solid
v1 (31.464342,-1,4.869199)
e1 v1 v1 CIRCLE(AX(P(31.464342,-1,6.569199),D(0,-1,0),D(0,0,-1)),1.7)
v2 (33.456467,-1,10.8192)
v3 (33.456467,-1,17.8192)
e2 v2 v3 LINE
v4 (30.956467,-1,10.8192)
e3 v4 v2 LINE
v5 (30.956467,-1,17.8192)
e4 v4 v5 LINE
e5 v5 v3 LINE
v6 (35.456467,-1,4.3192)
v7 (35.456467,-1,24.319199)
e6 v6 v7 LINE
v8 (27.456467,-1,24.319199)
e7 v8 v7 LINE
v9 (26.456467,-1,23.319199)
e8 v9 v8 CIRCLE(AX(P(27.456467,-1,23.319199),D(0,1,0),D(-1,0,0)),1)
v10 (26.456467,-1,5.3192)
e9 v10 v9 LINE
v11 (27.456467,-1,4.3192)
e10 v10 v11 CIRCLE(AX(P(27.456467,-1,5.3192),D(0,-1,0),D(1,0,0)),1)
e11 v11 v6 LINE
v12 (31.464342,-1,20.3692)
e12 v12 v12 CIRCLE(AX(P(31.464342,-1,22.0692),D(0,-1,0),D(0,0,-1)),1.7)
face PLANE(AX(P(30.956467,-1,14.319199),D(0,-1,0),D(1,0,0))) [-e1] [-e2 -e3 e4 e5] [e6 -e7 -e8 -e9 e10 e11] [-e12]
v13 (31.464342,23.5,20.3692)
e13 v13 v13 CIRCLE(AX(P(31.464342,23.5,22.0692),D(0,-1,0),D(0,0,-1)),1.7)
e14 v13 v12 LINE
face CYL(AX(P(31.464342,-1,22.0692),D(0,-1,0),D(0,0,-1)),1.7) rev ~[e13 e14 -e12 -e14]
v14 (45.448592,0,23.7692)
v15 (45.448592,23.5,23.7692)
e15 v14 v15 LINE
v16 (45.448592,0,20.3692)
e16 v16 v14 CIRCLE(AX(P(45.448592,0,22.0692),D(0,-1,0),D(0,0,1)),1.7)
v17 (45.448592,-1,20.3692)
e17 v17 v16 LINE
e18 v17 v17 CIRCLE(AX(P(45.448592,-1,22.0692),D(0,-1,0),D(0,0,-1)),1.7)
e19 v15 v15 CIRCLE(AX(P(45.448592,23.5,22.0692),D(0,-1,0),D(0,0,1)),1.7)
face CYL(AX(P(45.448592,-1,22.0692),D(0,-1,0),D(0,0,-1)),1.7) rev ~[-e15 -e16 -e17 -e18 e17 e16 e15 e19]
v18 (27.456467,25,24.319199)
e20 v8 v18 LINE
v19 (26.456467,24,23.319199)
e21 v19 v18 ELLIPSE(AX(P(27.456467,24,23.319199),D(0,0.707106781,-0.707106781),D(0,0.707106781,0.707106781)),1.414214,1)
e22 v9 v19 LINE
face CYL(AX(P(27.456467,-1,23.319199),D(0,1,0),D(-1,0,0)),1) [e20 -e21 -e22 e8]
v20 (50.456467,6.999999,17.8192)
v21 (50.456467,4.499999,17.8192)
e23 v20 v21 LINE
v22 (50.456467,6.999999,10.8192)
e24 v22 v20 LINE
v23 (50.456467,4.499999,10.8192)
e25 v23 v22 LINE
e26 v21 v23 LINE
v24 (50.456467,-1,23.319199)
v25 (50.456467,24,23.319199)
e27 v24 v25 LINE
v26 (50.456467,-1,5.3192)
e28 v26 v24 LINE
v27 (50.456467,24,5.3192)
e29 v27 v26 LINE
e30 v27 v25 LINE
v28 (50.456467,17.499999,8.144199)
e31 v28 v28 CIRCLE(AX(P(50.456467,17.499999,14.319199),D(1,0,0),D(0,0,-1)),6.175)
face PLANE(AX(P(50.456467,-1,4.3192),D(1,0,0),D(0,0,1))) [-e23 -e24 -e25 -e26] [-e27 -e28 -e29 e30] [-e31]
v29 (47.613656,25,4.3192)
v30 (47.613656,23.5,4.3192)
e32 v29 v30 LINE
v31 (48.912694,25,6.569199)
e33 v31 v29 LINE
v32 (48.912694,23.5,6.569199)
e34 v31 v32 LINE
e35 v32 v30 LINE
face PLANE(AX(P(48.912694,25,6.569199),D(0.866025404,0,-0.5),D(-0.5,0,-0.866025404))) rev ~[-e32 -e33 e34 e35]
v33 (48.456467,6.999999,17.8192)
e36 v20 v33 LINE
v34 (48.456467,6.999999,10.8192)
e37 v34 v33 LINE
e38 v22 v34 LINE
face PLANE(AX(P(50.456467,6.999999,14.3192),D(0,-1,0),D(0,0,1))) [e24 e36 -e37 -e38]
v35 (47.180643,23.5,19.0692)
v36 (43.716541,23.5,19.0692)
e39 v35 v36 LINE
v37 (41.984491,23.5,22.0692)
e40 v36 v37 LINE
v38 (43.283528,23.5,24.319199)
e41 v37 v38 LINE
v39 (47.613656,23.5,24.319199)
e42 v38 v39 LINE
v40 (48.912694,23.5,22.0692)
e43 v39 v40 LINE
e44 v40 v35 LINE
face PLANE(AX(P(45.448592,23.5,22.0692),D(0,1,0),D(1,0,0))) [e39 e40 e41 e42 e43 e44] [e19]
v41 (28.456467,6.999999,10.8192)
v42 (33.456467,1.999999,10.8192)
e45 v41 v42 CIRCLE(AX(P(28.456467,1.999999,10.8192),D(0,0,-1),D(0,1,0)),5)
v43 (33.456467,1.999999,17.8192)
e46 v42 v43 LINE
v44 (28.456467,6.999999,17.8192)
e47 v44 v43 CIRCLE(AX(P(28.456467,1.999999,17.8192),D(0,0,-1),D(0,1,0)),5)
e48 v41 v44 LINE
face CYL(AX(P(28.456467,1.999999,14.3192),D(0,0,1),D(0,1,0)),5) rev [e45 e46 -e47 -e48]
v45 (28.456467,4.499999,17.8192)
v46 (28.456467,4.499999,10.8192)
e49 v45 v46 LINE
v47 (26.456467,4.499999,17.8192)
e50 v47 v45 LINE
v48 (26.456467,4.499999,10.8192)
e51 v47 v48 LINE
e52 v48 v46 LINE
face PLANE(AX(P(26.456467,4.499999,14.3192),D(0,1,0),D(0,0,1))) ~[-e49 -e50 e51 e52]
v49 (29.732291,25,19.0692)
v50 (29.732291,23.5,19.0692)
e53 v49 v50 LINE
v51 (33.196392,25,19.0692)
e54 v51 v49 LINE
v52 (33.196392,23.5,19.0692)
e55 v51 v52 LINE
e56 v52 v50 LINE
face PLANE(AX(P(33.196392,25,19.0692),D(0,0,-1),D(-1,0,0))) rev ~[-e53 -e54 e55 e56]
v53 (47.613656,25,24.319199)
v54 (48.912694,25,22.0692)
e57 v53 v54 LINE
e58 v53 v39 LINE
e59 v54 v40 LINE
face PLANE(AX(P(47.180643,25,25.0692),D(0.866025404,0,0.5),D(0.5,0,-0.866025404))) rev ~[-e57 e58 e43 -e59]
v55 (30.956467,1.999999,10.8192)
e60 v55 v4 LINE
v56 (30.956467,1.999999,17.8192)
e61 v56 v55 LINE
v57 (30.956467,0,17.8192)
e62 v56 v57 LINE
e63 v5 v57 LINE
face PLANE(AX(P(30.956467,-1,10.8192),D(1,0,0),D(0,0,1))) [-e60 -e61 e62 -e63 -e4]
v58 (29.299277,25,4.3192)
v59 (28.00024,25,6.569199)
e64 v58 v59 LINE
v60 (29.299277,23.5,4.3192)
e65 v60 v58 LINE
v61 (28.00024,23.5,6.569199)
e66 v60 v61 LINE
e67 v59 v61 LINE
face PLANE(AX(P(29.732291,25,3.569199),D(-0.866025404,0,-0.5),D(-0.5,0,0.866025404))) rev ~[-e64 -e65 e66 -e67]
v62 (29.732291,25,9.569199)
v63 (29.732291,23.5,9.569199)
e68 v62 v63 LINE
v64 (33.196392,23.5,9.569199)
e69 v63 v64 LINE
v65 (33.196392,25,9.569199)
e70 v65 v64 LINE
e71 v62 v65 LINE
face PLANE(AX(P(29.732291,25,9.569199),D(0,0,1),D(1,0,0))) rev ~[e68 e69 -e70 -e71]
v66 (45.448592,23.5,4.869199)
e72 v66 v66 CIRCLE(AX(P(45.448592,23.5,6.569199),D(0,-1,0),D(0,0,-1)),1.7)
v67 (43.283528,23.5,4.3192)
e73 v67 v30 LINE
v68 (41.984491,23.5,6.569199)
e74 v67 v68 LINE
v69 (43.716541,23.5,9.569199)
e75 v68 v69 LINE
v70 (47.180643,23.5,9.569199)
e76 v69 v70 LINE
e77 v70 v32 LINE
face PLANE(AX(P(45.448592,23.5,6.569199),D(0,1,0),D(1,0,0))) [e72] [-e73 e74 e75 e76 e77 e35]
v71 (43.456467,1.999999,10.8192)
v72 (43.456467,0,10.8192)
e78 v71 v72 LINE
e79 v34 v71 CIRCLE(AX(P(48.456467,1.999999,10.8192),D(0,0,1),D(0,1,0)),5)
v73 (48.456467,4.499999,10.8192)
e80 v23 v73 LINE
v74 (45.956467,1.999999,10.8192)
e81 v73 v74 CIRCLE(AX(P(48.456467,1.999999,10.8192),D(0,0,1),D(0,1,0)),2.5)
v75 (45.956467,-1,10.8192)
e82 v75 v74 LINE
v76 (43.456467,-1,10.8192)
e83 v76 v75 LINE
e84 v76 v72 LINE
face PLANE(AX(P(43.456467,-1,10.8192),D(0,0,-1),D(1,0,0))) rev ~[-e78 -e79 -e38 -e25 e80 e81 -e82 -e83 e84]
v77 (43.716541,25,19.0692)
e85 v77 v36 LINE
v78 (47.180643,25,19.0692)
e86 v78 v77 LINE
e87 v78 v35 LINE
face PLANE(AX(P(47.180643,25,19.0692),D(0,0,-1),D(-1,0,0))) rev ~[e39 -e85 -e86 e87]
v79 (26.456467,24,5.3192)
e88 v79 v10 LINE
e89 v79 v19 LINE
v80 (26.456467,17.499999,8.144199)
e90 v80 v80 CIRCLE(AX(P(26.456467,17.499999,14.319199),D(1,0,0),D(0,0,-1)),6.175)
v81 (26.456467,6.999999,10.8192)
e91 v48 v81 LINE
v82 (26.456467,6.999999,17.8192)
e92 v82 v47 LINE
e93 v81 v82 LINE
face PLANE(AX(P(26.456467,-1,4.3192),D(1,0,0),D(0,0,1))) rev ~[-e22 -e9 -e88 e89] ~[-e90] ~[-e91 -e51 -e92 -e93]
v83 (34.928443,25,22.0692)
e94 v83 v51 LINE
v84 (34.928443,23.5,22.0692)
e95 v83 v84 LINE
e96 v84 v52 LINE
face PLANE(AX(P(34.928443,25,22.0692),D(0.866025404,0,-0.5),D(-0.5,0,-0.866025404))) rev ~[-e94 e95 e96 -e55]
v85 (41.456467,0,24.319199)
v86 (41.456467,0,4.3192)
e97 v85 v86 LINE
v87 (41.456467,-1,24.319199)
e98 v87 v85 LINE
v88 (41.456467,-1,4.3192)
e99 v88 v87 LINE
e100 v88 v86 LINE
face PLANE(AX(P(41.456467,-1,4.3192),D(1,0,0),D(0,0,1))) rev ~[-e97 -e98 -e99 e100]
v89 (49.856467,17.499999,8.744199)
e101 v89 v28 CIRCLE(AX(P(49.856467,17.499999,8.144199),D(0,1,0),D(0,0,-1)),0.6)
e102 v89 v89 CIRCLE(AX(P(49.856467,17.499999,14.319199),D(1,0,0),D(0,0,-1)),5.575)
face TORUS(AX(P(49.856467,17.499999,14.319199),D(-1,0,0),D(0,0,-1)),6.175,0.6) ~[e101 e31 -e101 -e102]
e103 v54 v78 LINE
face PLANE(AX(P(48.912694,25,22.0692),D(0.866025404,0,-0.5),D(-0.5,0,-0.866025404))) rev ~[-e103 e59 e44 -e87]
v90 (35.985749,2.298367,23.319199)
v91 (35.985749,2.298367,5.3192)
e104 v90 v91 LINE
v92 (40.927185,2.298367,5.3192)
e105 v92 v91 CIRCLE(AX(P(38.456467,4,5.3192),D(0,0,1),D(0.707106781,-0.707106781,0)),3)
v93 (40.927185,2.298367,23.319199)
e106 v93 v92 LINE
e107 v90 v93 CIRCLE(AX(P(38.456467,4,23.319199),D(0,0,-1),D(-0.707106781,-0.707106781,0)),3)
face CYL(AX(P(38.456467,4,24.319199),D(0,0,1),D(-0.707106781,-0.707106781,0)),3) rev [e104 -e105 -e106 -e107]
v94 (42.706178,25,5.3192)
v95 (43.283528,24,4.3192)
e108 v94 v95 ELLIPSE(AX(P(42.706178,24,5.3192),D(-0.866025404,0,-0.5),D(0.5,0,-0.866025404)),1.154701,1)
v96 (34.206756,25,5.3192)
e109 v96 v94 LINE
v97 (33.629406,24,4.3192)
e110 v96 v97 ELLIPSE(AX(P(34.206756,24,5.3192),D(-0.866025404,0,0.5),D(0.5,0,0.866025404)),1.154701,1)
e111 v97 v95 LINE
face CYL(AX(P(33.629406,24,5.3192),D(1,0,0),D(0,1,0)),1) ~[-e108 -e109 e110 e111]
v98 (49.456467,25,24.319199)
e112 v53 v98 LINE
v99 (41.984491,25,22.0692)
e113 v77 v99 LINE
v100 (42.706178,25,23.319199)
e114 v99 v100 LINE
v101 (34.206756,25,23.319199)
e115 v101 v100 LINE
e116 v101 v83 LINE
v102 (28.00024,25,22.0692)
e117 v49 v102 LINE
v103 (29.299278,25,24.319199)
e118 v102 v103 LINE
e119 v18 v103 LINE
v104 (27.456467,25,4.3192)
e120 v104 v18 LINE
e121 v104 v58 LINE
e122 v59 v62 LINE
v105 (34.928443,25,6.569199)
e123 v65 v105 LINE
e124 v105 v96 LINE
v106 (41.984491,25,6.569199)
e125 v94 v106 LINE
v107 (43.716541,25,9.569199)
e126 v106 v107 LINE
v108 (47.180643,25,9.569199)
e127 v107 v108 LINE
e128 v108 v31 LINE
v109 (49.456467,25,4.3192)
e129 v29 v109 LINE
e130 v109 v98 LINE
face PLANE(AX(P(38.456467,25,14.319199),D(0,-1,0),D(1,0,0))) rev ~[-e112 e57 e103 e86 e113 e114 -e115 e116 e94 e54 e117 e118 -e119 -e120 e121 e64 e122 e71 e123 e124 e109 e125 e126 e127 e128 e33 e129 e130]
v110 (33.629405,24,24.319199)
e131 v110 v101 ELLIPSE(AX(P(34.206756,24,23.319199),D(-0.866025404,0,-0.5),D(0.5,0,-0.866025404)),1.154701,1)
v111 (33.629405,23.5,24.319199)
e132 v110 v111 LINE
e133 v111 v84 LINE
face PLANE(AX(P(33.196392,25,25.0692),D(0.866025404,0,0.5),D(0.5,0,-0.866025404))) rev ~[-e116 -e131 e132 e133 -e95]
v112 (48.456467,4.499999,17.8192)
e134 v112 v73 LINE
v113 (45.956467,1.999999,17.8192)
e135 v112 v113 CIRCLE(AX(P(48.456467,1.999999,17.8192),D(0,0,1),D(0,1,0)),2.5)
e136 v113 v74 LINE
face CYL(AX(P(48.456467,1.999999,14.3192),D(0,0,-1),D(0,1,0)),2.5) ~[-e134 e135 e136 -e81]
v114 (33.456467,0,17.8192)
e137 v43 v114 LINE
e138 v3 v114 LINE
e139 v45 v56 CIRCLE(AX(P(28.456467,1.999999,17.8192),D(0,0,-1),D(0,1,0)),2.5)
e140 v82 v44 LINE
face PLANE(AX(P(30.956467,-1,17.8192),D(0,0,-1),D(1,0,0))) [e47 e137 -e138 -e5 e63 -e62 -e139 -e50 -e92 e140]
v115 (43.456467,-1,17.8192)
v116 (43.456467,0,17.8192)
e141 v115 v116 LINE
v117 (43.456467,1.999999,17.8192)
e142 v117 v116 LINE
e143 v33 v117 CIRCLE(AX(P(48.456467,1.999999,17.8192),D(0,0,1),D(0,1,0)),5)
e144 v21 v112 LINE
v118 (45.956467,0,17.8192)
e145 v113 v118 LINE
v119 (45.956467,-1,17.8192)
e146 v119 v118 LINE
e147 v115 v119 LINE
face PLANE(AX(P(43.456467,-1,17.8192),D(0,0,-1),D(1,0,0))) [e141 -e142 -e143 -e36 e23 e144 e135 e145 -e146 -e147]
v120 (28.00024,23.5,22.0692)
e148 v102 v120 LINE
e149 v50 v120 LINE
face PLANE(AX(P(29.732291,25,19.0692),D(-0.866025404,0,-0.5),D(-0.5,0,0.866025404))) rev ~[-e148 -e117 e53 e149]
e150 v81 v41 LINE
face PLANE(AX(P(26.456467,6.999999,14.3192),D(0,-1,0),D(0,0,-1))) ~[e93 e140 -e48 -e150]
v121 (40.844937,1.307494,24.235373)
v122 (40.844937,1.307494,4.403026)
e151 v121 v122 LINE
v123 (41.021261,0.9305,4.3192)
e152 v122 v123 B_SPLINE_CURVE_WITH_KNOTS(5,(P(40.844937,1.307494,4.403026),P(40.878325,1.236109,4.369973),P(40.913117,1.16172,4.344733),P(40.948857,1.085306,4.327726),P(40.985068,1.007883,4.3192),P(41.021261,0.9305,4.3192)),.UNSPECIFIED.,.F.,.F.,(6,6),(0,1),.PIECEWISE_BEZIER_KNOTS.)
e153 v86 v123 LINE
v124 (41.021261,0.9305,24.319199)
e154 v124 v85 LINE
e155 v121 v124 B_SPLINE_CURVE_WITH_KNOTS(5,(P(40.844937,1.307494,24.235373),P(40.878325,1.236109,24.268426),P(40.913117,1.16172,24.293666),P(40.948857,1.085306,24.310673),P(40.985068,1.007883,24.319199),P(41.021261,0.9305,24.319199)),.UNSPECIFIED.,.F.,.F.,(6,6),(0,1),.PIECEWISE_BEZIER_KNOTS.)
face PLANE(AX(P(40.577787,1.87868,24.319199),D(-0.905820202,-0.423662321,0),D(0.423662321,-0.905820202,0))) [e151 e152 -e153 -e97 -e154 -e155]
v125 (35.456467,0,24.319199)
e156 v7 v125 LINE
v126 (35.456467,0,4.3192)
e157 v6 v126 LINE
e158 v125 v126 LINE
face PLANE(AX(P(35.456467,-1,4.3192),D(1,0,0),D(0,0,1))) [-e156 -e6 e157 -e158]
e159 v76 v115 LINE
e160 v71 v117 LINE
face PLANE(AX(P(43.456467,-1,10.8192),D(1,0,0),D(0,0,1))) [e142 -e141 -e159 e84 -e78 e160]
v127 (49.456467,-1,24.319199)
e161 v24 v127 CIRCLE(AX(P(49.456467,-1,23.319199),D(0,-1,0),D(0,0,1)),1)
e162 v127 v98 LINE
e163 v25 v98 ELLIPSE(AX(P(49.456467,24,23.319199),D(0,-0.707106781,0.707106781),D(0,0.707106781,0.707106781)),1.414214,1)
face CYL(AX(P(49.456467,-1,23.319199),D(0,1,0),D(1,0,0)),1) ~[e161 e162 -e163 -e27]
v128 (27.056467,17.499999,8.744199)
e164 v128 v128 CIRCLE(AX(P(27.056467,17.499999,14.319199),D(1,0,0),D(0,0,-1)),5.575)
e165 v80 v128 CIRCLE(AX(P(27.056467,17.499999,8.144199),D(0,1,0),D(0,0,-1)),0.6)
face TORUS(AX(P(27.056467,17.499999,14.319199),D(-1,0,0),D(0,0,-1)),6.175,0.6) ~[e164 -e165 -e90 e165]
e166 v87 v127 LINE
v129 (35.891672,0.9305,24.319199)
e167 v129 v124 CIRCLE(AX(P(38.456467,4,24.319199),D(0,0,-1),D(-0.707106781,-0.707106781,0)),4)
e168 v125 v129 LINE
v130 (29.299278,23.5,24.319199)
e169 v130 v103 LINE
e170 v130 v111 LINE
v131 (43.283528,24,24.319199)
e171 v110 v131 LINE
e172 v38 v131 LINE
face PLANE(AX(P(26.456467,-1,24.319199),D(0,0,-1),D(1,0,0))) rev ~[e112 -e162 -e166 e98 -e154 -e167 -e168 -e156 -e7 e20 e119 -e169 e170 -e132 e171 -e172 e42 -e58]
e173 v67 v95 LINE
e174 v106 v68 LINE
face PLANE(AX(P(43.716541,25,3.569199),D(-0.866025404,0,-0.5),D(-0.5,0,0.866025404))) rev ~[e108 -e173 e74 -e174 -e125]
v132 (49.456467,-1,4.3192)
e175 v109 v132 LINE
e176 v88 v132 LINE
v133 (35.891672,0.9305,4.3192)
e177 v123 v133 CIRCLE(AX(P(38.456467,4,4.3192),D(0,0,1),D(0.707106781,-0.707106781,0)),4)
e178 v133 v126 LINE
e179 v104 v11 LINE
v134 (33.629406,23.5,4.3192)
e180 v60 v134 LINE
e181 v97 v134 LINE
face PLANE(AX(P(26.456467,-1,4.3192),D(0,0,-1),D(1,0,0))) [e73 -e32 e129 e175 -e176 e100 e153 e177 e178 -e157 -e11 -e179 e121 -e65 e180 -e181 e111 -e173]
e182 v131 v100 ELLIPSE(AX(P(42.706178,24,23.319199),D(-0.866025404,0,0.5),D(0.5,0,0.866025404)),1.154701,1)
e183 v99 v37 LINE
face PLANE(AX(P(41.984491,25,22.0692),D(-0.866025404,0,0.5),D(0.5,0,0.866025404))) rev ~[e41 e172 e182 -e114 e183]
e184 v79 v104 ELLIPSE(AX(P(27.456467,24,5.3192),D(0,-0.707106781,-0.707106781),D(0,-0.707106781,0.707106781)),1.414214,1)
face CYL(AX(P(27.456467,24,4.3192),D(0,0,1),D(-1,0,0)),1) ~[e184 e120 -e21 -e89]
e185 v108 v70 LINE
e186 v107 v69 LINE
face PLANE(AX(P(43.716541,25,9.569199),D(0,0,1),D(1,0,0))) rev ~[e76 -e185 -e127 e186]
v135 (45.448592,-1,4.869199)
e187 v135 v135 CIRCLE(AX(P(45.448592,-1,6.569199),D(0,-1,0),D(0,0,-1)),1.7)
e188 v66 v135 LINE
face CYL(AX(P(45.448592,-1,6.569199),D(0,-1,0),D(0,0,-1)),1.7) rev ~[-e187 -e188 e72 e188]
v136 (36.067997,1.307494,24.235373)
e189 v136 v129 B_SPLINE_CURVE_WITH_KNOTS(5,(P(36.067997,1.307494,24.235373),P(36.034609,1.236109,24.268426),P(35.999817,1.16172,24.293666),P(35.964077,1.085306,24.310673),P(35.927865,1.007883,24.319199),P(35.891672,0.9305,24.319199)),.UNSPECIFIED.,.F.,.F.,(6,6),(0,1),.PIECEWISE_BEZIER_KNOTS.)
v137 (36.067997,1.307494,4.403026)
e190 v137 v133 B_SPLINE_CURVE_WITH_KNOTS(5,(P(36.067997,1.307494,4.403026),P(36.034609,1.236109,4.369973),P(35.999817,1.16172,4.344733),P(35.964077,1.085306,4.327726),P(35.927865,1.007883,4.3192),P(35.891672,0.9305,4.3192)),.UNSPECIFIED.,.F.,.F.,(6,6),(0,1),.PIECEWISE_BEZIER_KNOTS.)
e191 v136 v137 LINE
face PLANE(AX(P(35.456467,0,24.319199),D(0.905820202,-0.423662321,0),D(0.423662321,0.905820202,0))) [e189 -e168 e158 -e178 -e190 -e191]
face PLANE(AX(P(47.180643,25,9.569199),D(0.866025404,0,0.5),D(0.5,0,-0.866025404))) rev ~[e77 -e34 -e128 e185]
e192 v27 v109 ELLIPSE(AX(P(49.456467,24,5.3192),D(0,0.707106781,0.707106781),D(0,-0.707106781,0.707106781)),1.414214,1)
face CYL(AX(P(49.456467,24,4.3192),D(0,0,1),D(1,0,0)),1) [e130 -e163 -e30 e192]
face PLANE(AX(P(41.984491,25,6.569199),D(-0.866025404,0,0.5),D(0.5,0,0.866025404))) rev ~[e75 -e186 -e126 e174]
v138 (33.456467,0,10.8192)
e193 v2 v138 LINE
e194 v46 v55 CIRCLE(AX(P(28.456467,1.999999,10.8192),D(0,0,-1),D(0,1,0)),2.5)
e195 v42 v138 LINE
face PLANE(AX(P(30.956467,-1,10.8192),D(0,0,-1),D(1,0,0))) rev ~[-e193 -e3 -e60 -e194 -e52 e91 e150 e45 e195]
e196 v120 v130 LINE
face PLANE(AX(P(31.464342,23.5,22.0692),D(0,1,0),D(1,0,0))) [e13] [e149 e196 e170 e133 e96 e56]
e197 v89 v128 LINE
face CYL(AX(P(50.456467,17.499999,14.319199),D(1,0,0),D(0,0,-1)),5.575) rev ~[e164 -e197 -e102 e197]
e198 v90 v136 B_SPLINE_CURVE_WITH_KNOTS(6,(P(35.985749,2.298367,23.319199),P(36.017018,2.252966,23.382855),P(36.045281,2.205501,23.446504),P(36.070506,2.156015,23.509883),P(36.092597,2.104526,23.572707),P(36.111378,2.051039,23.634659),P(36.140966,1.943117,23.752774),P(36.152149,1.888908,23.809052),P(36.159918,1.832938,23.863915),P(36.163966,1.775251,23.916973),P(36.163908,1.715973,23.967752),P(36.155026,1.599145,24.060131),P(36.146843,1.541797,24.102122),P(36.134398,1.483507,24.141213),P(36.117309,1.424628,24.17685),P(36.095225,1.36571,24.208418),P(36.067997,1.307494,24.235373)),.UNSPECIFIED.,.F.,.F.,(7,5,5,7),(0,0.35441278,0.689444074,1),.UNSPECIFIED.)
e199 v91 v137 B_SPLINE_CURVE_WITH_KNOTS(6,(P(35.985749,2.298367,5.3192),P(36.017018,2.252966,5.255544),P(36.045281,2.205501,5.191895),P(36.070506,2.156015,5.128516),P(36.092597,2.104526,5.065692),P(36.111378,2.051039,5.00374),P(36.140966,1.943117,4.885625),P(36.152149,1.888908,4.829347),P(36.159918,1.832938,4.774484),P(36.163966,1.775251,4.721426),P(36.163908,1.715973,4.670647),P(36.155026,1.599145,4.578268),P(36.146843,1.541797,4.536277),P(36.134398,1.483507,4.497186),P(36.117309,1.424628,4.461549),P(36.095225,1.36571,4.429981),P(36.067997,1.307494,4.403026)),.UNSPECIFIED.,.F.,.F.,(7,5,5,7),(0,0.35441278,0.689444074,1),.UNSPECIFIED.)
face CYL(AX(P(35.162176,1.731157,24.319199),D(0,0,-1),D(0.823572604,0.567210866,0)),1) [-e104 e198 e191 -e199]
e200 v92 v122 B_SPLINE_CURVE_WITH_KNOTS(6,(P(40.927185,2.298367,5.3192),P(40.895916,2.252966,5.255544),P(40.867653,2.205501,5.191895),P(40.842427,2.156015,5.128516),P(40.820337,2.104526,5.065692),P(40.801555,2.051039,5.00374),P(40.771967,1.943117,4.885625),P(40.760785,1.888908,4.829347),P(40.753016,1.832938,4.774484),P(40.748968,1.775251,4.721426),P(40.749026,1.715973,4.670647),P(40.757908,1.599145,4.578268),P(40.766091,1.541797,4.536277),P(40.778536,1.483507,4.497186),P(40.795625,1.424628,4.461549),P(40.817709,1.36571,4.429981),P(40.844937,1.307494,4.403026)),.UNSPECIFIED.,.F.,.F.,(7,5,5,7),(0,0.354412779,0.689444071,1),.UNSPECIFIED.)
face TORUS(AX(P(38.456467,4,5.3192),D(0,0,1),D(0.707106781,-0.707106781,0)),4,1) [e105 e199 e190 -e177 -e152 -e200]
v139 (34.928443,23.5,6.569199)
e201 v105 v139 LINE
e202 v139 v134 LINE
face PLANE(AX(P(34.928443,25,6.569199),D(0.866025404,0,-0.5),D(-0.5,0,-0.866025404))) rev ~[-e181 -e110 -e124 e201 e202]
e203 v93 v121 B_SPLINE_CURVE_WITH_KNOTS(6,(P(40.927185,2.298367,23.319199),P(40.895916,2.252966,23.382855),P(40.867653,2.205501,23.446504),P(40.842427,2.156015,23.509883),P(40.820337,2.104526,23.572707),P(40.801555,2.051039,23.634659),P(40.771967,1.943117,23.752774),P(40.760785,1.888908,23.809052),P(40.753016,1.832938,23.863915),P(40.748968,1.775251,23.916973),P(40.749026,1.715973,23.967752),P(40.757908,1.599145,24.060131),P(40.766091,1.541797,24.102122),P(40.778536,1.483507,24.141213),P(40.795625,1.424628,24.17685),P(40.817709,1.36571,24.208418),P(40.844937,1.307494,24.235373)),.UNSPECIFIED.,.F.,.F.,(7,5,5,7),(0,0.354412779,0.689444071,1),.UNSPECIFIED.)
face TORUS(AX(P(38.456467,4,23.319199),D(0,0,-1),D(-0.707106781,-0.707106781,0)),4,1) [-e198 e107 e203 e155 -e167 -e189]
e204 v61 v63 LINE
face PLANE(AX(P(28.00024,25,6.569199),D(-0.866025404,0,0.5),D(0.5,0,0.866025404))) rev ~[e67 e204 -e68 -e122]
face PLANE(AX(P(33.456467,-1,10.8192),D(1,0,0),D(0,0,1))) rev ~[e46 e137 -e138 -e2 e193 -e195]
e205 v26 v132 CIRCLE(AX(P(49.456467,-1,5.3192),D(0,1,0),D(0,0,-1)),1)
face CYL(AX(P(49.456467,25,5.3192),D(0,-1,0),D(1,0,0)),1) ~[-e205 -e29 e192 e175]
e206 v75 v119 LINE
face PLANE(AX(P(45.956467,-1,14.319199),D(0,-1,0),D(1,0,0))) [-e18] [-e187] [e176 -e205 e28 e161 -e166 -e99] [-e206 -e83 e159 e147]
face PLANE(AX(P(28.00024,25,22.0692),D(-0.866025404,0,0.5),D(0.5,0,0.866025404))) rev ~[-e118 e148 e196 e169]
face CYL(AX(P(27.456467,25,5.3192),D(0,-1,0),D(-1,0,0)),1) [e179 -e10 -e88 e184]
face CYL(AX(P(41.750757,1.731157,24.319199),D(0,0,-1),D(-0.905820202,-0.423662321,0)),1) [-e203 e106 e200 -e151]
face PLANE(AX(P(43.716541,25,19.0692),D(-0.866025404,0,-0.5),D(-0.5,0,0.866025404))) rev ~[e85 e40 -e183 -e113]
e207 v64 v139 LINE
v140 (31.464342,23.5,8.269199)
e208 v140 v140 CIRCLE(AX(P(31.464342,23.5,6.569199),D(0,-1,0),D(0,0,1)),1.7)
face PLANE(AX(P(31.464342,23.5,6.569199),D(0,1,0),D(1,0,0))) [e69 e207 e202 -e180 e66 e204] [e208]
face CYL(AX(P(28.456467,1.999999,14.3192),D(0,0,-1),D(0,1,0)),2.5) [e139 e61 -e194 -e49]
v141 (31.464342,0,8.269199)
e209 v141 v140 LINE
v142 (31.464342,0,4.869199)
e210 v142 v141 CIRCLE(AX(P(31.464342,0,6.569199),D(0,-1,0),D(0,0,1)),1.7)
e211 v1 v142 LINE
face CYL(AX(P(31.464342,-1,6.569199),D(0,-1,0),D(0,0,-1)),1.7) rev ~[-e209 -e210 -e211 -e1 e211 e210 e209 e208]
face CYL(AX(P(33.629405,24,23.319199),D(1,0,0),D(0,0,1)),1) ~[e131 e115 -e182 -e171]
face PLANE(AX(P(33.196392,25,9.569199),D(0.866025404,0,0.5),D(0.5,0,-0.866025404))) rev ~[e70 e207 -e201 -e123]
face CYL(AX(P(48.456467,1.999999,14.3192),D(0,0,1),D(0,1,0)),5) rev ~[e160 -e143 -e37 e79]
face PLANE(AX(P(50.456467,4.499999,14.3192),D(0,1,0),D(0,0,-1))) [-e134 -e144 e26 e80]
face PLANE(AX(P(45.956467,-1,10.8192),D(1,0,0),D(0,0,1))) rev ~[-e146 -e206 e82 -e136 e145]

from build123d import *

# Parameters (mm, degrees)
CROQUIS1_W              = 24
CROQUIS1_H              = 19.999999388
SALIENTE_EXTRUIR1_DEPTH = 25
CORTAR_EXTRUIR1_DEPTH   = 60.75663166
CROQUIS4_R              = 1.7
CORTAR_EXTRUIR3_DEPTH   = 62.337415173
CROQUIS8_W              = 7
CROQUIS8_H              = 2.5
CORTAR_EXTRUIR7_DEPTH   = 1.5
CROQUIS3_R              = 5.575
CORTAR_EXTRUIR8_DEPTH   = 40
SALIENTE_EXTRUIR2_START = 1
CROQUIS13_W             = 9
CROQUIS13_H             = 19.999999388
CROQUIS13_R             = 1.7
CROQUIS13_W_2           = 2.5
CROQUIS13_H_2           = 7
SALIENTE_EXTRUIR2_DEPTH = 1
SALIENTE_EXTRUIR3_START = 1
CROQUIS14_W             = 9
CROQUIS14_H             = 19.999999388
CROQUIS14_R             = 1.7
CROQUIS14_W_2           = 2.5
CROQUIS14_H_2           = 7
SALIENTE_EXTRUIR3_DEPTH = 1
REDONDEO1_R             = 1
REDONDEO3_R             = 0.6


with BuildPart() as part:
    # Croquis1 → Saliente-Extruir1 (new body)
    with BuildSketch(Plane.XZ):
        with Locations((38.456466898, 14.319199476)):
            Rectangle(CROQUIS1_W, CROQUIS1_H)
    extrude(amount=-SALIENTE_EXTRUIR1_DEPTH)

    # Croquis2 → Cortar-Extruir1 (cut, through all)
    with BuildSketch(Plane.XY.offset(24.31919917)):
        with BuildLine():
            Line((35.456466898, 0), (36.335146555, 1.878679656))
            ThreePointArc((36.335146555, 1.878679656), (38.456466898, 7), (40.577787242, 1.878679656))
            Line((40.577787242, 1.878679656), (41.456466898, 0))
            Line((41.456466898, 0), (35.456466898, 0))
        make_face()
    extrude(amount=-CORTAR_EXTRUIR1_DEPTH, mode=Mode.SUBTRACT)

    # Croquis4 → Cortar-Extruir3 (cut, through all)
    with BuildSketch(Plane.XZ):
        with Locations(Location((31.464341614, 22.069199782, 0), (0, 0, 270))):
            Circle(CROQUIS4_R)
        with Locations(Location((45.448592182, 22.069199782, 0), (0, 0, 90))):
            Circle(CROQUIS4_R)
        with Locations(Location((45.448592182, 6.569198558, 0), (0, 0, 270))):
            Circle(CROQUIS4_R)
        with Locations(Location((31.464341614, 6.569198558, 0), (0, 0, 90))):
            Circle(CROQUIS4_R)
    extrude(amount=-CORTAR_EXTRUIR3_DEPTH, mode=Mode.SUBTRACT)

    # Cortar-Barrer2: sweep along a path in Croquis9
    with BuildLine(Plane(origin=(0, 0, 10.819199782), x_dir=(-1, 0, 0), z_dir=(0, 0, -1))) as cortar_barrer2_path:
        Line((-50.456466898, 6.999998763), (-48.456466898, 6.999998763))
        ThreePointArc((-48.456466898, 6.999998763), (-44.920932992, 5.535532669), (-43.456466898, 1.999998763))
        Line((-43.456466898, 1.999998763), (-43.456466898, -1.237e-06))
    # Croquis8 → Cortar-Barrer2 (sweep, cut)
    with BuildSketch(Plane(origin=(50.456466898, 0, 0), x_dir=(0, 0, -1), z_dir=(1, 0, 0))):
        with Locations((-14.319199782, 5.749998763)):
            Rectangle(CROQUIS8_W, CROQUIS8_H)
    cortar_barrer2 = sweep(path=cortar_barrer2_path.line, mode=Mode.SUBTRACT)

    # Simetría1: Cortar-Barrer2 across plane
    add(cortar_barrer2.mirror(Plane(origin=(38.456466898, 0, 0), x_dir=(0, 0, 1), z_dir=(1, 0, 0))), mode=Mode.SUBTRACT)

    # Croquis11 → Cortar-Extruir7 (cut)
    with BuildSketch(Plane(origin=(0, 25, 0), x_dir=(1, 0, 0), z_dir=(0, 1, 0))):
        Polygon((47.18064299, -19.069199782), (43.716541375, -19.069199782), (41.984490567, -22.069199782), (43.716541375, -25.069199782), (47.18064299, -25.069199782), (48.912693797, -22.069199782), align=None)
        Polygon((34.928443229, -22.069199782), (33.196392422, -19.069199782), (29.732290807, -19.069199782), (28.000239999, -22.069199782), (29.732290807, -25.069199782), (33.196392422, -25.069199782), align=None)
        Polygon((34.928443229, -6.569198558), (33.196392422, -3.569198558), (29.732290807, -3.569198558), (28.000239999, -6.569198558), (29.732290807, -9.569198558), (33.196392422, -9.569198558), align=None)
        Polygon((47.18064299, -9.569198558), (48.912693797, -6.569198558), (47.18064299, -3.569198558), (43.716541375, -3.569198558), (41.984490567, -6.569198558), (43.716541375, -9.569198558), align=None)
    extrude(amount=-CORTAR_EXTRUIR7_DEPTH, mode=Mode.SUBTRACT)

    # Croquis3 → Cortar-Extruir8 (cut)
    with BuildSketch(Plane(origin=(50.456466898, 0, 0), x_dir=(0, 0, -1), z_dir=(1, 0, 0))):
        with Locations((-14.31919917, 17.49999856)):
            Circle(CROQUIS3_R)
    extrude(amount=-CORTAR_EXTRUIR8_DEPTH, mode=Mode.SUBTRACT)

    # Croquis13 → Saliente-Extruir2 (add)
    with BuildSketch(Plane.XZ.offset(SALIENTE_EXTRUIR2_START)):
        with Locations((45.956466898, 14.319199476)):
            Rectangle(CROQUIS13_W, CROQUIS13_H)
        with Locations(Location((45.448592182, 22.069199782, 0), (0, 0, 270))):
            Circle(CROQUIS13_R, mode=Mode.SUBTRACT)
        with Locations(Location((45.448592182, 6.569198558, 0), (0, 0, 270))):
            Circle(CROQUIS13_R, mode=Mode.SUBTRACT)
        with Locations((44.706466898, 14.319199782)):
            Rectangle(CROQUIS13_W_2, CROQUIS13_H_2, mode=Mode.SUBTRACT)
    extrude(amount=-SALIENTE_EXTRUIR2_DEPTH)

    # Croquis14 → Saliente-Extruir3 (add)
    with BuildSketch(Plane.XZ.offset(SALIENTE_EXTRUIR3_START)):
        with Locations((30.956466898, 14.319199476)):
            Rectangle(CROQUIS14_W, CROQUIS14_H)
        with Locations(Location((31.464341614, 22.069199782, 0), (0, 0, 270))):
            Circle(CROQUIS14_R, mode=Mode.SUBTRACT)
        with Locations(Location((31.464341614, 6.569198558, 0), (0, 0, 270))):
            Circle(CROQUIS14_R, mode=Mode.SUBTRACT)
        with Locations((32.206466898, 14.319199782)):
            Rectangle(CROQUIS14_W_2, CROQUIS14_H_2, mode=Mode.SUBTRACT)
    extrude(amount=-SALIENTE_EXTRUIR3_DEPTH)

    # Redondeo1
    redondeo1_edges = [part.edges().sort_by_distance(p)[0] for p in [
        (38.456466898, 25, 24.31919917),
        (38.456466898, 25, 4.319199782),
        (26.456466898, 25, 14.319199476),
        (26.456466898, 12, 4.319199782),
        (26.456466898, 12, 24.31919917),
        (50.456466898, 12, 4.319199782),
        (50.456466898, 25, 14.319199476),
        (50.456466898, 12, 24.31919917),
        (40.577787242, 1.878679656, 14.319199476),
        (36.335146555, 1.878679656, 14.319199476),
        (38.456466898, 7, 4.319199782),
        (38.456466898, 7, 24.31919917),
    ]]
    fillet(redondeo1_edges, radius=REDONDEO1_R)

    # Redondeo3
    redondeo3_edges = [part.edges().sort_by_distance(p)[0] for p in [
        (26.456466898, 17.49999856, 19.89419917),
        (50.456466898, 17.49999856, 19.89419917),
    ]]
    fillet(redondeo3_edges, radius=REDONDEO3_R)


solid = part.part
